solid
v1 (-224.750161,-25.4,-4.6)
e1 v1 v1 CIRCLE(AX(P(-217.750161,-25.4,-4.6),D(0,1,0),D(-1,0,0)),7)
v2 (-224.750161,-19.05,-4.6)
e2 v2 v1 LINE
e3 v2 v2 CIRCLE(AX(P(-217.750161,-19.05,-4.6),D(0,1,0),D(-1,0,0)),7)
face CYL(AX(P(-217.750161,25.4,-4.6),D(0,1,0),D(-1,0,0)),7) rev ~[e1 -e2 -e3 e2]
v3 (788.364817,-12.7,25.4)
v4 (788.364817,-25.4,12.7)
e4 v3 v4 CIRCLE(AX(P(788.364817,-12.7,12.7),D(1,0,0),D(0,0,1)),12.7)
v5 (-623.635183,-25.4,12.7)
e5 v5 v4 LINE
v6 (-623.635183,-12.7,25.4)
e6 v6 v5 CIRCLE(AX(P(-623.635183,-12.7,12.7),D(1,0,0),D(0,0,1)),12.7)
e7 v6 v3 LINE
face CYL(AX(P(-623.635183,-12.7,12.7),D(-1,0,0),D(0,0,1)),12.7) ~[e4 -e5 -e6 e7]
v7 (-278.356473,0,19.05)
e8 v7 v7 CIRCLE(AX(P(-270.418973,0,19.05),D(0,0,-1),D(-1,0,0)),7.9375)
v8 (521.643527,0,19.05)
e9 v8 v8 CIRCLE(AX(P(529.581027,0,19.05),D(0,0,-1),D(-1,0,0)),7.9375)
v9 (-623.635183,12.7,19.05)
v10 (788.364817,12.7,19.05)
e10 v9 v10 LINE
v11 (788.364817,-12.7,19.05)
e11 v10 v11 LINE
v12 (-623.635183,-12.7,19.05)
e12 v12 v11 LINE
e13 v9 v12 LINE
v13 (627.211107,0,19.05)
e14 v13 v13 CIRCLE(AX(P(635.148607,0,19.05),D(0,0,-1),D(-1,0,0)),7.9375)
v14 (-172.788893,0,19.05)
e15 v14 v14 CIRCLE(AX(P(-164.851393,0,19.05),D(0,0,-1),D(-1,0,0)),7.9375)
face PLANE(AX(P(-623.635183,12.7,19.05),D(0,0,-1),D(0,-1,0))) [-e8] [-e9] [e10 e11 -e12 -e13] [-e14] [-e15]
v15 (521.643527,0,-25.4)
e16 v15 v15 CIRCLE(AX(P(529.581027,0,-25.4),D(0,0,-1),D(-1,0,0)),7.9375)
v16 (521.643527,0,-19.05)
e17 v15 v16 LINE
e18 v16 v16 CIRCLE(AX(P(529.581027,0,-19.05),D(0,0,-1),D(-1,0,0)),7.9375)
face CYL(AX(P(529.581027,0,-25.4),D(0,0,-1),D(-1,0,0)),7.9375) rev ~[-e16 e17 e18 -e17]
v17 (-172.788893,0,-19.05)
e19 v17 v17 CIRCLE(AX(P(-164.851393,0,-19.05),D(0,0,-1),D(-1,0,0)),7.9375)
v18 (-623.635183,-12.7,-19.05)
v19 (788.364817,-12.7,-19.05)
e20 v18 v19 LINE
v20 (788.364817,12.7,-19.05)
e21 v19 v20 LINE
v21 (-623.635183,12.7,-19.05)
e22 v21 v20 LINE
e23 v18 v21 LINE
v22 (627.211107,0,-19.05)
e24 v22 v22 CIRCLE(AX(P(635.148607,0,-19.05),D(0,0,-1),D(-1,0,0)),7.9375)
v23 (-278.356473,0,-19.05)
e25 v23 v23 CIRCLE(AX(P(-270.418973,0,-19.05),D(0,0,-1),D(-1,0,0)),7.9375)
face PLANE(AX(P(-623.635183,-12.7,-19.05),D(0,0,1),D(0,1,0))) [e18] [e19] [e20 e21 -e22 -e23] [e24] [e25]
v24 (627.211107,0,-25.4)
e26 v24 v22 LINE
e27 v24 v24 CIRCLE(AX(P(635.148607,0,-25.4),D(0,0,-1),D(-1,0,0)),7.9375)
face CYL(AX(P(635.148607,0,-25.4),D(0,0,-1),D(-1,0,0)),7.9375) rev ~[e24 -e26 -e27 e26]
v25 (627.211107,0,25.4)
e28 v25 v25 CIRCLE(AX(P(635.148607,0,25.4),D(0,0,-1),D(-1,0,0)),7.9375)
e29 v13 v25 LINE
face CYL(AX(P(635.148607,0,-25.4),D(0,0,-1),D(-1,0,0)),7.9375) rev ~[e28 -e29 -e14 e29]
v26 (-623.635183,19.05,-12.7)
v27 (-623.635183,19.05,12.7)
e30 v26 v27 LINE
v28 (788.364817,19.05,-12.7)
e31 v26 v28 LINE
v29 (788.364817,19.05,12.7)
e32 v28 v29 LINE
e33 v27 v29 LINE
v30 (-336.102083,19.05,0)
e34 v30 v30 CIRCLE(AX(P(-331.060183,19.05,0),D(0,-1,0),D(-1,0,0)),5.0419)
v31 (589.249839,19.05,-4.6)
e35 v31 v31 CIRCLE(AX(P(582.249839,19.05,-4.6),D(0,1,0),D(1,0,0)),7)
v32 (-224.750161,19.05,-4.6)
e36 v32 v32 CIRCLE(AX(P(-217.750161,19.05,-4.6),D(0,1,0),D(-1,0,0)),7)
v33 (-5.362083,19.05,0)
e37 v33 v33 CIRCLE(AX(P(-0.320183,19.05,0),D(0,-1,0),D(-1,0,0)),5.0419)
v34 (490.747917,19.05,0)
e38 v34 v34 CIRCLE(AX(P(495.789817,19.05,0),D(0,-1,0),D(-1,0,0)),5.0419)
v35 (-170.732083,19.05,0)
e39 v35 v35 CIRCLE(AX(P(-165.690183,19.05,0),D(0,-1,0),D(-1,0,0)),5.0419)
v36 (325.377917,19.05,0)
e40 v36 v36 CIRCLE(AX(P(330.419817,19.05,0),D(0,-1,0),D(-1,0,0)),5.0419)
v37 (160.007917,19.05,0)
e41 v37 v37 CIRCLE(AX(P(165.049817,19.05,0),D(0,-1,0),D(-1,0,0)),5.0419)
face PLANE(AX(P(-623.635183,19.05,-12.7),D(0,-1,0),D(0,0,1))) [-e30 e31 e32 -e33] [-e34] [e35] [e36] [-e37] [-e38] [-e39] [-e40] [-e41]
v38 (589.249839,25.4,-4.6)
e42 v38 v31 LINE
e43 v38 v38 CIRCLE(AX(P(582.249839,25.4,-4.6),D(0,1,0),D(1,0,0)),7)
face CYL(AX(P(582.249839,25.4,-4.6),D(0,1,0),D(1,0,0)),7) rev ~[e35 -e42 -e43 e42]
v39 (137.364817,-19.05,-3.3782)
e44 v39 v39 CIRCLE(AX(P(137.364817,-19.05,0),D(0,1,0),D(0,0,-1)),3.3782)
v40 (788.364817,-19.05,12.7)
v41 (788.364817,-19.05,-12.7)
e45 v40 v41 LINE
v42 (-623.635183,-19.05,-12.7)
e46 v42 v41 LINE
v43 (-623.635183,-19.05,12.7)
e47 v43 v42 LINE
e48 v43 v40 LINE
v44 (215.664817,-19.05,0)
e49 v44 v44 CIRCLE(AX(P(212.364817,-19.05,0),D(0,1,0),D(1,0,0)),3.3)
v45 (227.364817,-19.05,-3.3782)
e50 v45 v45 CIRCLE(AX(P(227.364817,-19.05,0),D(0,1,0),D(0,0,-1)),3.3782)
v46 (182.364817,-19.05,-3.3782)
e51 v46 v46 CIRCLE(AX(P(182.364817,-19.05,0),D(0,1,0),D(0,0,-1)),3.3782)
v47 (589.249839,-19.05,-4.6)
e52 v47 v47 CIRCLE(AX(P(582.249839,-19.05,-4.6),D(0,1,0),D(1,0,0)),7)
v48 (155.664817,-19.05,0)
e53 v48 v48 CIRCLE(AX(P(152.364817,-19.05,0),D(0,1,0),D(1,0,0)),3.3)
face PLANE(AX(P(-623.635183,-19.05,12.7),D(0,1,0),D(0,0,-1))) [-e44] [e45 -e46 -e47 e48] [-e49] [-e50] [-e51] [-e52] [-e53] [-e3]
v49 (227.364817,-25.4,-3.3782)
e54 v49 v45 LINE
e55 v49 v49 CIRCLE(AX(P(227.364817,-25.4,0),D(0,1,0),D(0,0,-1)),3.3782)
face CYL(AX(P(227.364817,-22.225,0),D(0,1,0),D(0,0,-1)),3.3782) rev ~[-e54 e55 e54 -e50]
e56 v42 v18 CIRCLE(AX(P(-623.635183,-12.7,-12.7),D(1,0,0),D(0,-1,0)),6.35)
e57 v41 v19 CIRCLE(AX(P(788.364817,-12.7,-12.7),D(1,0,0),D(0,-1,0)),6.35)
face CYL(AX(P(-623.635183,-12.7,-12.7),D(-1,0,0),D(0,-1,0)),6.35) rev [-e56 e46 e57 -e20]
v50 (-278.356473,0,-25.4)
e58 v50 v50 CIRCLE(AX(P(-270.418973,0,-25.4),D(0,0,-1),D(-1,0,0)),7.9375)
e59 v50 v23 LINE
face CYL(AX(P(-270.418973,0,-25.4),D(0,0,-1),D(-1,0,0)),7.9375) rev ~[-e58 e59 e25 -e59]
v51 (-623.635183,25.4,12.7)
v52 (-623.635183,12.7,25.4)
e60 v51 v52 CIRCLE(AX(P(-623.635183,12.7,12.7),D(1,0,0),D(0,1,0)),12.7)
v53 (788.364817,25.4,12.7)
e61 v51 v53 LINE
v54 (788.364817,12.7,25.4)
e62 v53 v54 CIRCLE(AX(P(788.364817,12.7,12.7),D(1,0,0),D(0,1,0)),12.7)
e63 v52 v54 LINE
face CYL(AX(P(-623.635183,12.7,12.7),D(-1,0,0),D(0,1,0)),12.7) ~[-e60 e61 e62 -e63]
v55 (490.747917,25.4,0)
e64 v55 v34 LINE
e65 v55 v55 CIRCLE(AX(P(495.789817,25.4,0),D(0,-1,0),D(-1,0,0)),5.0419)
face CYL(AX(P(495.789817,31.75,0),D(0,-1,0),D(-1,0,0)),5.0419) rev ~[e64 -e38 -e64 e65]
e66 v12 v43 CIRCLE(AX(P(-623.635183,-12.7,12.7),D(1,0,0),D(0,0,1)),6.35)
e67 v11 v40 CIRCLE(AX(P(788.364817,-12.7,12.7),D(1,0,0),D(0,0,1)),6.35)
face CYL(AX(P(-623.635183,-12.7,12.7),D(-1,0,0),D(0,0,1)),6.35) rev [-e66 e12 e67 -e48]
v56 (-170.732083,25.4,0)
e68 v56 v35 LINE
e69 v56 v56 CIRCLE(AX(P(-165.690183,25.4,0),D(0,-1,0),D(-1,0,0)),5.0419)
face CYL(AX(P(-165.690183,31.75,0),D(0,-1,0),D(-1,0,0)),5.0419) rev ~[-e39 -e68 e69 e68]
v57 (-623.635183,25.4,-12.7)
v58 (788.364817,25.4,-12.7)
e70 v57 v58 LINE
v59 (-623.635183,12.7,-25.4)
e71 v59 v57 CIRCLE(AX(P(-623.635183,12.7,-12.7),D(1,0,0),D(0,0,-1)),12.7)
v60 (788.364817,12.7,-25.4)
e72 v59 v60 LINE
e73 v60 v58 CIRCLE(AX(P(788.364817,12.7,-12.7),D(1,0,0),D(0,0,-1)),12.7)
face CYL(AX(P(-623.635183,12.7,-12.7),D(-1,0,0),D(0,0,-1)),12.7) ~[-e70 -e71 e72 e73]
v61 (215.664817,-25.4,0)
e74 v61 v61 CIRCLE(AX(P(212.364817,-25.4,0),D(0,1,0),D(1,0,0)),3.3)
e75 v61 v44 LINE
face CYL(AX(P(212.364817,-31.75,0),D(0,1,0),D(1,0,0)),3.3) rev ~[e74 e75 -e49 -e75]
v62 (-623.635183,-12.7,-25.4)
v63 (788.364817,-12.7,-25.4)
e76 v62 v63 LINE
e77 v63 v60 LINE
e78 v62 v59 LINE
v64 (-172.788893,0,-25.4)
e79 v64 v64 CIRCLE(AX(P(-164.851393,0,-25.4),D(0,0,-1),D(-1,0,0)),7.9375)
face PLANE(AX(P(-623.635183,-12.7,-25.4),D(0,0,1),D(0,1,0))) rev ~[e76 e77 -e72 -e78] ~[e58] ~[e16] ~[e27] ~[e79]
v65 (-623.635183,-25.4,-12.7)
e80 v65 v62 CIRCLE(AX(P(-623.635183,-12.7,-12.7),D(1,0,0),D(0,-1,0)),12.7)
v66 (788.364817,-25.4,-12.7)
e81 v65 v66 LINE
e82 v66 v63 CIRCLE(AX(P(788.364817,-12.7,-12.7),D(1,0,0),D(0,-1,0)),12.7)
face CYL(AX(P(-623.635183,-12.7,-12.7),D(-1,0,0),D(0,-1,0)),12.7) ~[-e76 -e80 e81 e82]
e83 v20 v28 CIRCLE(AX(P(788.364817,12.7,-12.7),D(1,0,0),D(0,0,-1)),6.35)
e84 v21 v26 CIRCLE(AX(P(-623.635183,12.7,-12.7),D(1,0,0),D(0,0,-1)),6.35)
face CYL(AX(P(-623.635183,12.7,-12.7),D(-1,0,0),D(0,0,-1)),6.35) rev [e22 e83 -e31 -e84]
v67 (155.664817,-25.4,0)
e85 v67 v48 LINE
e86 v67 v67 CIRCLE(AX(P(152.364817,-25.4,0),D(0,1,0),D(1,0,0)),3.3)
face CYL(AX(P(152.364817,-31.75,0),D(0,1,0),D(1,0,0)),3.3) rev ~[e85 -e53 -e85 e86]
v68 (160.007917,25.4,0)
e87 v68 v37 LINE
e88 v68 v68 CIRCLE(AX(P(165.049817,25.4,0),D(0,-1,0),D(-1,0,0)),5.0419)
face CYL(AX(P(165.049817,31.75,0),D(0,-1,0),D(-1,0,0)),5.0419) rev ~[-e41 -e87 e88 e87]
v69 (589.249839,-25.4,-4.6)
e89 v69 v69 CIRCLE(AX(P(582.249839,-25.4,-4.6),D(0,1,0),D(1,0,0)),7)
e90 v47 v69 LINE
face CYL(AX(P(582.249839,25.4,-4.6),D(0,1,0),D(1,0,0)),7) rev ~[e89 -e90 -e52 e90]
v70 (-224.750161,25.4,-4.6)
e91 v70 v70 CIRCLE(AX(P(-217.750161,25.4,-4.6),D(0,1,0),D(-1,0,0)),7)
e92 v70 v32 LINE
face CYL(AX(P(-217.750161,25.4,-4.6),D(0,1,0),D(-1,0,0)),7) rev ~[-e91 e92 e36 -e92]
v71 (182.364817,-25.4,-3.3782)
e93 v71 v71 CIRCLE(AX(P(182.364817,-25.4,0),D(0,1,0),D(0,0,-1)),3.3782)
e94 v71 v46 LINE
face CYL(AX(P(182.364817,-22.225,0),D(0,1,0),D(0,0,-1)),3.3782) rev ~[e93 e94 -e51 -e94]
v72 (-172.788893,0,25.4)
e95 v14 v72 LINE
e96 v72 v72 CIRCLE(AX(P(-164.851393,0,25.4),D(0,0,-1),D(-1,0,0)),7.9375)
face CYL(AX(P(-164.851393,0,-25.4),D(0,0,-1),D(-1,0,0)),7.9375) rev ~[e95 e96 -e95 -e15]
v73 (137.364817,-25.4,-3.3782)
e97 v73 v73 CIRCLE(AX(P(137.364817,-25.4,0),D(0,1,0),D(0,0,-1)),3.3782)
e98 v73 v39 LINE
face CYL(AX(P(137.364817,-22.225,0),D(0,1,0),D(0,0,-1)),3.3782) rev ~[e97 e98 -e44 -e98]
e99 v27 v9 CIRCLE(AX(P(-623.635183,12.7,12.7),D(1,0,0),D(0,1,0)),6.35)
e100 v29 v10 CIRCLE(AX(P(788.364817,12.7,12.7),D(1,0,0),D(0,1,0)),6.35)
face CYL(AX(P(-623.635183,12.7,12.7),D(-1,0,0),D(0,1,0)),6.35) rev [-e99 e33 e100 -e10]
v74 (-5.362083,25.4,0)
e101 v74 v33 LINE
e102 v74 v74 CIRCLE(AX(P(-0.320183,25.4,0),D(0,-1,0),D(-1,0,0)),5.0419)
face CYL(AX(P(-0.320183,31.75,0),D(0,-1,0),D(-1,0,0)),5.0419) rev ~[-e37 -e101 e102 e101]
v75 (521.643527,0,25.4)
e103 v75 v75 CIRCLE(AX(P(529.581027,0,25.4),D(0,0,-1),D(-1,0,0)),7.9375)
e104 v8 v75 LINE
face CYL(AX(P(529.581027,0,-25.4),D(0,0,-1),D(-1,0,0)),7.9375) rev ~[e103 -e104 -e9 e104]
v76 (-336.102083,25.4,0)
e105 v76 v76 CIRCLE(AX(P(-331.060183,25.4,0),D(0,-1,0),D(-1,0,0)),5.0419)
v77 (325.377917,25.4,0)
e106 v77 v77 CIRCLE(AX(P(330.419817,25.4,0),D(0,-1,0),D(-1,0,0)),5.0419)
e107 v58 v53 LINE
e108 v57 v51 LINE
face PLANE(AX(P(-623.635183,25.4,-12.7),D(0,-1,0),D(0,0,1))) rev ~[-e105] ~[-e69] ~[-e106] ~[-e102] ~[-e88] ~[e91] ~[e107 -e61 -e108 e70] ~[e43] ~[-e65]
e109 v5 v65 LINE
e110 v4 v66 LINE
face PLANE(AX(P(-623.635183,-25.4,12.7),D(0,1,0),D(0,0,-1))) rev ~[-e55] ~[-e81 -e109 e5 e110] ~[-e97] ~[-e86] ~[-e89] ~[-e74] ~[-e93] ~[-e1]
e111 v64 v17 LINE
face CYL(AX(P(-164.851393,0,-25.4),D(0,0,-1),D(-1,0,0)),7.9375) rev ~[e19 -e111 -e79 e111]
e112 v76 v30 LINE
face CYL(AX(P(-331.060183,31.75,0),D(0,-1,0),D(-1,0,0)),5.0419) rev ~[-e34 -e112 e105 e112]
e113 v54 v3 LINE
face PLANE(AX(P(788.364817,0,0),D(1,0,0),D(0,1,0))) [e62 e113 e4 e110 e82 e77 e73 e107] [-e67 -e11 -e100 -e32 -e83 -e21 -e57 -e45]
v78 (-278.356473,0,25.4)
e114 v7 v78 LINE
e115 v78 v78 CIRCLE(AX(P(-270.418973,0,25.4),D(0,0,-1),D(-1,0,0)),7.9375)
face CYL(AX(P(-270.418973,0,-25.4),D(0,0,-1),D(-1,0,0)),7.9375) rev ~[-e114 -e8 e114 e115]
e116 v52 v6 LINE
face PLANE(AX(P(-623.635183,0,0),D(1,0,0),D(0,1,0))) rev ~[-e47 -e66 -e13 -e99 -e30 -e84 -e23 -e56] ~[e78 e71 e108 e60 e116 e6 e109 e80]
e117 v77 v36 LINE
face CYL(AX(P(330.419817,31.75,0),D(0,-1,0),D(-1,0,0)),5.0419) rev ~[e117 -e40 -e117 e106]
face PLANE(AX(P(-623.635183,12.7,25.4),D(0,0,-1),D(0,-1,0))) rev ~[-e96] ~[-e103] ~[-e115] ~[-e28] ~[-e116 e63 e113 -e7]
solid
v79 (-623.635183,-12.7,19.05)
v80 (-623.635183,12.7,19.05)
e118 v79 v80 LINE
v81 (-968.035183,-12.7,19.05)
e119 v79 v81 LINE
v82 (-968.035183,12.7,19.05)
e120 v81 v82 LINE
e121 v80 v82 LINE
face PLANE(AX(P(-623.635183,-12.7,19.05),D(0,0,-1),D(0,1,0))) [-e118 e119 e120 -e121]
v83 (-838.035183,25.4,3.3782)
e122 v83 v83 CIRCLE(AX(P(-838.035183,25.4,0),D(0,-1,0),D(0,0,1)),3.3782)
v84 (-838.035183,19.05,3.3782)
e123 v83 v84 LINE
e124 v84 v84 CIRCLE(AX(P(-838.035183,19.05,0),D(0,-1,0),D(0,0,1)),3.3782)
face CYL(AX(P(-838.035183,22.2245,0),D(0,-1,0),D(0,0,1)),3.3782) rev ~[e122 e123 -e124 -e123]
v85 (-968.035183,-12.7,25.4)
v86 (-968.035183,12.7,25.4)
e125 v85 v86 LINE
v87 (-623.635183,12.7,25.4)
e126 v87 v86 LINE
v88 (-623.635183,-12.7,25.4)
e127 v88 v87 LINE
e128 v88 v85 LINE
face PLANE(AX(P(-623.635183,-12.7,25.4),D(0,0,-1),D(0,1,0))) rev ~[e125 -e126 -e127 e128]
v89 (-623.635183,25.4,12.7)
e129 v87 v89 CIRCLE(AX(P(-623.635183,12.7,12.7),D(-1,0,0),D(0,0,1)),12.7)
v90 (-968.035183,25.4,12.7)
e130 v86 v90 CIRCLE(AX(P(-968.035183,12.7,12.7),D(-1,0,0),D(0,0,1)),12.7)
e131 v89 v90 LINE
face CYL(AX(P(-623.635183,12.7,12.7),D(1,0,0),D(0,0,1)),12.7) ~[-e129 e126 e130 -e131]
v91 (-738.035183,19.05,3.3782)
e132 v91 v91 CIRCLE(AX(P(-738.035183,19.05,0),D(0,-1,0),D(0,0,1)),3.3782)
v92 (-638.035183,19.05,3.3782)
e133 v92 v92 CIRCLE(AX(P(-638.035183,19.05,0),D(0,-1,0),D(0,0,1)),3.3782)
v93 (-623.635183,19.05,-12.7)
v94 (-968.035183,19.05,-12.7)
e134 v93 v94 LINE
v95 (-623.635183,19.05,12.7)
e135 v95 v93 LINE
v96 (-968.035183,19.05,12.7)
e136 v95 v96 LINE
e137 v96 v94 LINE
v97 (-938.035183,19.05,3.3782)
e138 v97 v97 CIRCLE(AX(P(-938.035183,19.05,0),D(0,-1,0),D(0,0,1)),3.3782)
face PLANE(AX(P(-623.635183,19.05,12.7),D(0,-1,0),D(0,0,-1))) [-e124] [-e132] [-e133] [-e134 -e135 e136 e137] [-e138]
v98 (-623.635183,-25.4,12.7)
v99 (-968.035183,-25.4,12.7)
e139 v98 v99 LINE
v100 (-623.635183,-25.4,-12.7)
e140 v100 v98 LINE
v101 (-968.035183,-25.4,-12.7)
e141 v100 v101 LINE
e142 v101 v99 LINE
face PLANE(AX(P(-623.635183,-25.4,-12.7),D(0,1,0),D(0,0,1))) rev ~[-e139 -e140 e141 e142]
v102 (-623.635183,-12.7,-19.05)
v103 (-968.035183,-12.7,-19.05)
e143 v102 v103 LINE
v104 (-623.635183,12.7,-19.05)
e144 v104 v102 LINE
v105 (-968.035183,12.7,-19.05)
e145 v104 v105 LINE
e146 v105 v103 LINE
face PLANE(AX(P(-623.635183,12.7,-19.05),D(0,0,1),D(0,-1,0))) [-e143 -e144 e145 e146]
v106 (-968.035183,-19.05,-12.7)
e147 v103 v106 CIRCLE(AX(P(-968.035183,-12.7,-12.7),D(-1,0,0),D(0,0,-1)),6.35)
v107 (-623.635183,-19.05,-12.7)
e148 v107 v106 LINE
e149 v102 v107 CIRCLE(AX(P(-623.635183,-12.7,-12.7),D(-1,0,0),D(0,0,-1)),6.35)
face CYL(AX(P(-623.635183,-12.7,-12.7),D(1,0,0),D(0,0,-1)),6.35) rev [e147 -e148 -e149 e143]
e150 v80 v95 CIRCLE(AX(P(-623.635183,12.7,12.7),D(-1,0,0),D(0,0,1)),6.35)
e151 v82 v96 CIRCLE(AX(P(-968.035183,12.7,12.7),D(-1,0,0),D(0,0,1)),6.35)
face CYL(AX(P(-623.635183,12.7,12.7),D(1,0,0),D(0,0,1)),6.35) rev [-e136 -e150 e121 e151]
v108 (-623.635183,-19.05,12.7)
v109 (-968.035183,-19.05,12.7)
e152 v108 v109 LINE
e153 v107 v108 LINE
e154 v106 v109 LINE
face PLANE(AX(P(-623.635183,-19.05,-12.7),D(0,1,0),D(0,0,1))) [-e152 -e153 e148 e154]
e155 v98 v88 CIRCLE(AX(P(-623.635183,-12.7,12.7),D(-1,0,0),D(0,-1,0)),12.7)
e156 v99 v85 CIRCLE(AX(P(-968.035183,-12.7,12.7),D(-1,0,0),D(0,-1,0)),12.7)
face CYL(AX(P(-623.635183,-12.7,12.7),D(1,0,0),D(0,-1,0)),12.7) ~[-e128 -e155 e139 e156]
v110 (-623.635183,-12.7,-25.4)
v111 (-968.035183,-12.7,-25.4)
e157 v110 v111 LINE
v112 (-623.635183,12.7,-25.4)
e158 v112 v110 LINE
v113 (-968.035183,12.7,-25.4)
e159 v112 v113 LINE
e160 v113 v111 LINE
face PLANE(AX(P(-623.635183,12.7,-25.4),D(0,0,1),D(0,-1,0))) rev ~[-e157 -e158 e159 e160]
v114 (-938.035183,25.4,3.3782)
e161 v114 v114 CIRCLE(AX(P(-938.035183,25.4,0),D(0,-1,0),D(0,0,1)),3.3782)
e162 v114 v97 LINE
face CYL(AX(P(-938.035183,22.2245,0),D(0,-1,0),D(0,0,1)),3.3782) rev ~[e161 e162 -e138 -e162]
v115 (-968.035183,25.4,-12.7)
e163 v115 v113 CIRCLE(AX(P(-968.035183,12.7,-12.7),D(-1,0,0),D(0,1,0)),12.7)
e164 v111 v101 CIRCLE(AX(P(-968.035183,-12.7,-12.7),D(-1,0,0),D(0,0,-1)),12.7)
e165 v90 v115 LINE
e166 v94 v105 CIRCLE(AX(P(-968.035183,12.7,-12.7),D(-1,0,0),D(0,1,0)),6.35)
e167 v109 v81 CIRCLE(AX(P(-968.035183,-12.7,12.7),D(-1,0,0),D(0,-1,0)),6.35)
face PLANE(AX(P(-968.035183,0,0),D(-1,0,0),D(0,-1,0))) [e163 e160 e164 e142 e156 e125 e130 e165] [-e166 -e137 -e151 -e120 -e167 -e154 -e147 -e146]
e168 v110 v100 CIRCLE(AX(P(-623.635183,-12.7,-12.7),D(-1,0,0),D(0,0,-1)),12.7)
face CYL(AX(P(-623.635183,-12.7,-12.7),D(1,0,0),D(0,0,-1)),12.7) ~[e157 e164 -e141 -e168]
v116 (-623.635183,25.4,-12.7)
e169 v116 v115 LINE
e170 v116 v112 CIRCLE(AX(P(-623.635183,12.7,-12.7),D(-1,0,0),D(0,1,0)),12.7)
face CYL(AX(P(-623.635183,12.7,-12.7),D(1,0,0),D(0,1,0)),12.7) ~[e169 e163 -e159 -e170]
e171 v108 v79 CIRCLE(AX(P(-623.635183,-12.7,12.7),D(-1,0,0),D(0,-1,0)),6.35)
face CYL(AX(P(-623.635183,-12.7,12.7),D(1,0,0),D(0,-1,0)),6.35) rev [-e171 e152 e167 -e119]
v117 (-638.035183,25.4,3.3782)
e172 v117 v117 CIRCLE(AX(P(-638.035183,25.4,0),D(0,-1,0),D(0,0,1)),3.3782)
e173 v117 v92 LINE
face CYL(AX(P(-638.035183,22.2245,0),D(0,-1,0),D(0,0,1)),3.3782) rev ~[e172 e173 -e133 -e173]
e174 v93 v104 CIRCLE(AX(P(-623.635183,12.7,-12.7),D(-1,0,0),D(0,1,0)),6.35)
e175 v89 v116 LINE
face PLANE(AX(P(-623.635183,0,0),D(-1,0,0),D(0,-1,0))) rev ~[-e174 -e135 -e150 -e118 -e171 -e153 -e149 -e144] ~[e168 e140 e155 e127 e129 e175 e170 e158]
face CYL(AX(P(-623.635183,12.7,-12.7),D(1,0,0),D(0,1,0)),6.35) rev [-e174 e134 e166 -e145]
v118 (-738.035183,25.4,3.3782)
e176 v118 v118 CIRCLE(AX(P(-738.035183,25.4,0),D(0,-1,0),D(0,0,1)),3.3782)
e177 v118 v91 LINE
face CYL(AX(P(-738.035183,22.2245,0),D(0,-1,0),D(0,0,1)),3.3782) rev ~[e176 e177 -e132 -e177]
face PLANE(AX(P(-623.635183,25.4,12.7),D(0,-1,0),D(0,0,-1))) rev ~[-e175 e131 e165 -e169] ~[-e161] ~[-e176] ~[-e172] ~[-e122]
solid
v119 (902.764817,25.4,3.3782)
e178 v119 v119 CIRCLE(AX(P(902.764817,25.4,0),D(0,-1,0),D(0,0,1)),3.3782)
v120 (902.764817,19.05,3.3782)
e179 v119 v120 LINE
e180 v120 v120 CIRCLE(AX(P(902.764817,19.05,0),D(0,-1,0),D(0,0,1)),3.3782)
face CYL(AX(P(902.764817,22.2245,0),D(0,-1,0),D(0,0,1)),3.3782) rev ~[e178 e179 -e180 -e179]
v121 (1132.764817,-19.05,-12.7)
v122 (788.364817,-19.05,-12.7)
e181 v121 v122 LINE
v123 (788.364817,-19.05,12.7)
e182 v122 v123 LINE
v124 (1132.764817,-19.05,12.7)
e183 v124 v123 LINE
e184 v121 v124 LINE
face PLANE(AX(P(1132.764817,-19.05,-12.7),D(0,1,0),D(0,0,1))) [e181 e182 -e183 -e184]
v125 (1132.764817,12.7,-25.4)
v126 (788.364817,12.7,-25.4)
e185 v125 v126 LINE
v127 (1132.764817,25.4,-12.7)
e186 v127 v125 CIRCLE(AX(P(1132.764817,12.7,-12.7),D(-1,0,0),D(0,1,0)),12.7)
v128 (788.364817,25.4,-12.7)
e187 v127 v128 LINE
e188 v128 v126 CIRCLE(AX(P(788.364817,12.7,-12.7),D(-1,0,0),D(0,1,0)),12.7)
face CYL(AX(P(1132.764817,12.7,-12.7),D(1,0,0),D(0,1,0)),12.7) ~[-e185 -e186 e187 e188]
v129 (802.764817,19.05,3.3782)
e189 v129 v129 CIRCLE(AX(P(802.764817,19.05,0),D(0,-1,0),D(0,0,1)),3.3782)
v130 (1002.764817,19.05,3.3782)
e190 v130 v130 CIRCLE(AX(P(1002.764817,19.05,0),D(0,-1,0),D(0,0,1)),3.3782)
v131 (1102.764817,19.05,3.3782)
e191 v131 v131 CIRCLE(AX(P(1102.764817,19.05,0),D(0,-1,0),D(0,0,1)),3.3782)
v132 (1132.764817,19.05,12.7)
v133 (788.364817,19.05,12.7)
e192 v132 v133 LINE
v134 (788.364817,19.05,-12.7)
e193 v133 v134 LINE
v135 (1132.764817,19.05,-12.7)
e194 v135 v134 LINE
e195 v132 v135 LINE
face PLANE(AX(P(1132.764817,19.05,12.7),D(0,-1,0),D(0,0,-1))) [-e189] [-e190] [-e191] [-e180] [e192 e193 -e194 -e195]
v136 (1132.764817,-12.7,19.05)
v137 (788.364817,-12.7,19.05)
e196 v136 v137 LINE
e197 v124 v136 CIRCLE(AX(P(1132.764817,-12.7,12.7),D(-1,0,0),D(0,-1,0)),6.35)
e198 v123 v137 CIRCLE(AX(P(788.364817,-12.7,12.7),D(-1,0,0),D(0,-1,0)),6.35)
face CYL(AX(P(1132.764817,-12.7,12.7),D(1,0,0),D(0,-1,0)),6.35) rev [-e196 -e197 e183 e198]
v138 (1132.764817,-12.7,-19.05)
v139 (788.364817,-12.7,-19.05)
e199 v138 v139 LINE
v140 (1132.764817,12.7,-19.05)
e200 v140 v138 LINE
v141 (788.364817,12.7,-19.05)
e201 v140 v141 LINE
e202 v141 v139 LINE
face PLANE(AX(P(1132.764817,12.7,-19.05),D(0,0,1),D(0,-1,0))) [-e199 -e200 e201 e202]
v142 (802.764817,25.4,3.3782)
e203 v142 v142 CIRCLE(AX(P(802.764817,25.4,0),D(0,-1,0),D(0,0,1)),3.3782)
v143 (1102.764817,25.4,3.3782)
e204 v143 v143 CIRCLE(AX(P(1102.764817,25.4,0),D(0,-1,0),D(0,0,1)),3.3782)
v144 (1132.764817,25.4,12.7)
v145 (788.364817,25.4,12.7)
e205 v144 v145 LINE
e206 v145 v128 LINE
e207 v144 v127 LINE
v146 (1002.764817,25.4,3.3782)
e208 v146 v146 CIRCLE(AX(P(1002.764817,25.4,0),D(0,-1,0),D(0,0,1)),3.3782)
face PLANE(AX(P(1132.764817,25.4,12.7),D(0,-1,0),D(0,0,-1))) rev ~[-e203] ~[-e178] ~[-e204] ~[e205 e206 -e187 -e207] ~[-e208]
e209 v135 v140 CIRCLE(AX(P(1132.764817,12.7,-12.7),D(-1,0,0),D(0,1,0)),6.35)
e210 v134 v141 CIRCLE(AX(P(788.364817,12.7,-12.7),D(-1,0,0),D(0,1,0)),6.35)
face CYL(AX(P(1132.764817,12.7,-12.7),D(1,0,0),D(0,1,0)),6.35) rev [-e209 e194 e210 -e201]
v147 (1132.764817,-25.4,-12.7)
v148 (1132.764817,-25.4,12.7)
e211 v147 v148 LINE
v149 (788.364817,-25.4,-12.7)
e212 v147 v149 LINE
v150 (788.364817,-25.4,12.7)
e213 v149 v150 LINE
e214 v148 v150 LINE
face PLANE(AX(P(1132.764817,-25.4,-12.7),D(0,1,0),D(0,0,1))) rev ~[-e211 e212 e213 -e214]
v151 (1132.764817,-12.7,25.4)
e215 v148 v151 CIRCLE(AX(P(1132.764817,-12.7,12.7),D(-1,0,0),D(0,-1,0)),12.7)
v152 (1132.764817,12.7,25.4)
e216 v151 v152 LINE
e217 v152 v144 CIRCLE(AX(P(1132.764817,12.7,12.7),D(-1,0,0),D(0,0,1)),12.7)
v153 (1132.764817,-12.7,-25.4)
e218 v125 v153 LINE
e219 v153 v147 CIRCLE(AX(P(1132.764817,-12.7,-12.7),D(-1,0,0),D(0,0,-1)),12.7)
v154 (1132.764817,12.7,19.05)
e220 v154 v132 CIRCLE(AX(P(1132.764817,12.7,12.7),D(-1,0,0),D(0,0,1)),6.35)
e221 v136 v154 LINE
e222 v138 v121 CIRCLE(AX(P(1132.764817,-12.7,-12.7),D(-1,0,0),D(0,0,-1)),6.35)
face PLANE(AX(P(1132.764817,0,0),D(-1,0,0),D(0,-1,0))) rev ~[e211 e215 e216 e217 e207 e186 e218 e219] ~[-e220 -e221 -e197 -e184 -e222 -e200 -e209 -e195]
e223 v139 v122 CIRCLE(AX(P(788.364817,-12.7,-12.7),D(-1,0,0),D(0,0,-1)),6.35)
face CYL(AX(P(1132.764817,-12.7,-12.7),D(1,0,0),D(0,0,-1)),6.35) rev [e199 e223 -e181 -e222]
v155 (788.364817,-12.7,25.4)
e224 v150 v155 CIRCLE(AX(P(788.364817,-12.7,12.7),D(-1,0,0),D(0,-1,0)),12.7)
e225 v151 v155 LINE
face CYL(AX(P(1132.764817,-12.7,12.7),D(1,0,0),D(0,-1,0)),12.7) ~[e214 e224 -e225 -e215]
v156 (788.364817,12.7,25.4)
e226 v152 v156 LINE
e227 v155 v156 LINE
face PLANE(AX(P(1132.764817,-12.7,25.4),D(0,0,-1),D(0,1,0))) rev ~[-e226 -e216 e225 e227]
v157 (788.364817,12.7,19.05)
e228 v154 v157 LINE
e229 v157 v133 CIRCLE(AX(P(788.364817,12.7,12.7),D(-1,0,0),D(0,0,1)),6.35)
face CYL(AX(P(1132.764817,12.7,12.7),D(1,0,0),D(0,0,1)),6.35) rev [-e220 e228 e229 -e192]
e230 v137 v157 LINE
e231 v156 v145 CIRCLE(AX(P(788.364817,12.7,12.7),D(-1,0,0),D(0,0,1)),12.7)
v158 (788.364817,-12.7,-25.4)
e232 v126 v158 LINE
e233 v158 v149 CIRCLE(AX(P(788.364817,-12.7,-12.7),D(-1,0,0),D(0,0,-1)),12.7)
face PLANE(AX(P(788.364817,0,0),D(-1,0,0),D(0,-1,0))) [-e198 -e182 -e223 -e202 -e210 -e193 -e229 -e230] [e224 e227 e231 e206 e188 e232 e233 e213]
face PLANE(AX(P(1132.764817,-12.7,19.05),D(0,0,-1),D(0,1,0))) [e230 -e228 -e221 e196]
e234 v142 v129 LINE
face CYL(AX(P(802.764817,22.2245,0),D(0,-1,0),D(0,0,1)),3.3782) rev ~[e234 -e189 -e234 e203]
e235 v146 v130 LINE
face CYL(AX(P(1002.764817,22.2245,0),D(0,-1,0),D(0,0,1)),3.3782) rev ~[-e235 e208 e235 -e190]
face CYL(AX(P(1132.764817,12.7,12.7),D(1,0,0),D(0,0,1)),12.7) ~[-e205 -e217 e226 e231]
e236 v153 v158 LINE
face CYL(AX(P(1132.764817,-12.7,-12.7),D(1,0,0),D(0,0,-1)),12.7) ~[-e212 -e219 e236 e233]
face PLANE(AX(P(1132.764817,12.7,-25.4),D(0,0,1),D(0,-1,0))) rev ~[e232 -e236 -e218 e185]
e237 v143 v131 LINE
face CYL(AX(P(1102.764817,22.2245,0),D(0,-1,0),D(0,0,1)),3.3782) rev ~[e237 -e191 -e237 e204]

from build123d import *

# Parameters (mm, degrees)
MIEMBRO_ESTRUCTURAL1_DEPTH             = 1412
TALADRO_DE_MARGEN_PARA_M61_D           = 6.6
TALADRO_DE_MARGEN_PARA_M61_DEPTH       = 6.35
TALADRO_DE_MARGEN_PARA_3_81_D          = 10.0838
TALADRO_DE_MARGEN_PARA_3_81_DEPTH      = 6.35
MIEMBRO_ESTRUCTURAL2_DEPTH             = 344.4
MIEMBRO_ESTRUCTURAL2_2_DEPTH           = 344.4
CROQUIS9_W                             = 3.3782
CROQUIS9_H                             = 6.35
TALADRO_DE_MARGEN_PARA_1_41_AT_2_COUNT = 2
TALADRO_DE_MARGEN_PARA_1_41_AT_2_PITCH = 45
TALADRO_DE_MARGEN_PARA_1_41_AT_3_COUNT = 2
TALADRO_DE_MARGEN_PARA_1_41_AT_3_PITCH = 90
CROQUIS11_W                            = 3.3782
CROQUIS11_H                            = 6.351
TALADRO_DE_MARGEN_PARA_1_42_AT_2_COUNT = 2
TALADRO_DE_MARGEN_PARA_1_42_AT_2_PITCH = 100
TALADRO_DE_MARGEN_PARA_1_42_AT_3_COUNT = 2
TALADRO_DE_MARGEN_PARA_1_42_AT_3_PITCH = 200
TALADRO_DE_MARGEN_PARA_1_42_AT_4_COUNT = 2
TALADRO_DE_MARGEN_PARA_1_42_AT_4_PITCH = 300
TALADRO_DE_MARGEN_PARA_1_42_AT_5_COUNT = 2
TALADRO_DE_MARGEN_PARA_1_42_AT_5_PITCH = 1740.8
TALADRO_DE_MARGEN_PARA_1_42_AT_6_COUNT = 2
TALADRO_DE_MARGEN_PARA_1_42_AT_6_PITCH = 1840.8
TALADRO_DE_MARGEN_PARA_1_42_AT_7_COUNT = 2
TALADRO_DE_MARGEN_PARA_1_42_AT_7_PITCH = 1940.8
TALADRO_DE_MARGEN_PARA_1_42_AT_8_COUNT = 2
TALADRO_DE_MARGEN_PARA_1_42_AT_8_PITCH = 2040.8
CUT_EXTRUDE1_REACH                     = 1136.188
SKETCH12_R                             = 7.9375
CUT_EXTRUDE2_REACH                     = 1136.188


with BuildPart() as part:
    # Sketch1 → Miembro estructural1 (new body)
    with BuildSketch(Plane.YZ.offset(-623.635182539)):
        with BuildLine():
            Line((-12.7, -25.4), (12.7, -25.4))
            ThreePointArc((12.7, -25.4), (21.680256121, -21.680256121), (25.4, -12.7))
            Line((25.4, -12.7), (25.4, 12.7))
            ThreePointArc((25.4, 12.7), (21.680256121, 21.680256121), (12.7, 25.4))
            Line((12.7, 25.4), (-12.7, 25.4))
            ThreePointArc((-12.7, 25.4), (-21.680256121, 21.680256121), (-25.4, 12.7))
            Line((-25.4, 12.7), (-25.4, -12.7))
            ThreePointArc((-25.4, -12.7), (-21.680256121, -21.680256121), (-12.7, -25.4))
        make_face()
        with BuildLine():
            Line((-12.7, -19.05), (12.7, -19.05))
            ThreePointArc((12.7, -19.05), (17.190128061, -17.190128061), (19.05, -12.7))
            Line((19.05, -12.7), (19.05, 12.7))
            ThreePointArc((19.05, 12.7), (17.190128061, 17.190128061), (12.7, 19.05))
            Line((12.7, 19.05), (-12.7, 19.05))
            ThreePointArc((-12.7, 19.05), (-17.190128061, 17.190128061), (-19.05, 12.7))
            Line((-19.05, 12.7), (-19.05, -12.7))
            ThreePointArc((-19.05, -12.7), (-17.190128061, -17.190128061), (-12.7, -19.05))
        make_face(mode=Mode.SUBTRACT)
    extrude(amount=MIEMBRO_ESTRUCTURAL1_DEPTH)

    # Taladro de margen para M61
    with Locations(Plane(origin=(0, -25.4, 0), x_dir=(-1, 0, 0), z_dir=(0, -1, 0))):
        with Locations((-152.364817461, 0), (-212.364817461, 0)):
            Hole(TALADRO_DE_MARGEN_PARA_M61_D / 2, depth=TALADRO_DE_MARGEN_PARA_M61_DEPTH)

    # Taladro de margen para 3/81
    with Locations(Plane(origin=(0, 25.4, 0), x_dir=(1, 0, 0), z_dir=(0, 1, 0))):
        with Locations((-331.060182539, 0), (-165.690182539, 0), (-0.320182539, 0), (165.049817461, 0), (330.419817461, 0), (495.789817461, 0)):
            Hole(TALADRO_DE_MARGEN_PARA_3_81_D / 2, depth=TALADRO_DE_MARGEN_PARA_3_81_DEPTH)

    # Croquis9 → Taladro de margen para 1/41 (revolve, cut)
    with BuildSketch(Plane(origin=(137.364817461, -25.4, 0), x_dir=(0, 0, -1), z_dir=(1, 0, 0))):
        with Locations((1.6891, 3.175)):
            Rectangle(CROQUIS9_W, CROQUIS9_H)
    taladro_de_margen_para_1_41 = revolve(axis=Axis((137.364817461, -31.75, 0), (0, 1, 0)), mode=Mode.SUBTRACT)

    # Taladro de margen para 1/41 at 2: Taladro de margen para 1/41 ×2
    with Locations(*[(i * TALADRO_DE_MARGEN_PARA_1_41_AT_2_PITCH, 0, 0) for i in range(1, TALADRO_DE_MARGEN_PARA_1_41_AT_2_COUNT)]):
        add(taladro_de_margen_para_1_41, mode=Mode.SUBTRACT)

    # Taladro de margen para 1/41 at 3: Taladro de margen para 1/41 ×2
    with Locations(*[(i * TALADRO_DE_MARGEN_PARA_1_41_AT_3_PITCH, 0, 0) for i in range(1, TALADRO_DE_MARGEN_PARA_1_41_AT_3_COUNT)]):
        add(taladro_de_margen_para_1_41, mode=Mode.SUBTRACT)

    # Cut-Extrude1: up to this face of the body (flat: up to its plane)
    cut_extrude1_end = Plane(part.part.faces().sort_by_distance((82.364817461, 0, 25.4))[0])
    # Sketch12 → Cut-Extrude1 (cut, up to the picked face)
    with BuildSketch(Plane(origin=(0, 0, -25.4), x_dir=(-1, 0, 0), z_dir=(0, 0, -1)), mode=Mode.PRIVATE) as cut_extrude1_sk1:
        with Locations((270.418972539, 0)):
            Circle(SKETCH12_R)
    cut_extrude1_tool1 = split(extrude(cut_extrude1_sk1.sketch, amount=-CUT_EXTRUDE1_REACH, mode=Mode.PRIVATE), bisect_by=cut_extrude1_end, keep=Keep.BOTH, mode=Mode.PRIVATE)
    # Sketch12 → Cut-Extrude1 (cut, up to the picked face)
    with BuildSketch(Plane(origin=(0, 0, -25.4), x_dir=(-1, 0, 0), z_dir=(0, 0, -1)), mode=Mode.PRIVATE) as cut_extrude1_sk2:
        with Locations((164.851392539, 0)):
            Circle(SKETCH12_R)
    cut_extrude1_tool2 = split(extrude(cut_extrude1_sk2.sketch, amount=-CUT_EXTRUDE1_REACH, mode=Mode.PRIVATE), bisect_by=cut_extrude1_end, keep=Keep.BOTH, mode=Mode.PRIVATE)
    # Sketch12 → Cut-Extrude1 (cut, up to the picked face)
    with BuildSketch(Plane(origin=(0, 0, -25.4), x_dir=(-1, 0, 0), z_dir=(0, 0, -1)), mode=Mode.PRIVATE) as cut_extrude1_sk3:
        with Locations((-529.581027461, 0)):
            Circle(SKETCH12_R)
    cut_extrude1_tool3 = split(extrude(cut_extrude1_sk3.sketch, amount=-CUT_EXTRUDE1_REACH, mode=Mode.PRIVATE), bisect_by=cut_extrude1_end, keep=Keep.BOTH, mode=Mode.PRIVATE)
    # Sketch12 → Cut-Extrude1 (cut, up to the picked face)
    with BuildSketch(Plane(origin=(0, 0, -25.4), x_dir=(-1, 0, 0), z_dir=(0, 0, -1)), mode=Mode.PRIVATE) as cut_extrude1_sk4:
        with Locations((-635.148607461, 0)):
            Circle(SKETCH12_R)
    cut_extrude1_tool4 = split(extrude(cut_extrude1_sk4.sketch, amount=-CUT_EXTRUDE1_REACH, mode=Mode.PRIVATE), bisect_by=cut_extrude1_end, keep=Keep.BOTH, mode=Mode.PRIVATE)
    add(cut_extrude1_tool1.solids().sort_by(Axis((-270.418973, 0, -25.4), (0, 0, 1)))[0], mode=Mode.SUBTRACT)
    add(cut_extrude1_tool2.solids().sort_by(Axis((-164.851393, 0, -25.4), (0, 0, 1)))[0], mode=Mode.SUBTRACT)
    add(cut_extrude1_tool3.solids().sort_by(Axis((529.581027, 0, -25.4), (0, 0, 1)))[0], mode=Mode.SUBTRACT)
    add(cut_extrude1_tool4.solids().sort_by(Axis((635.148607, 0, -25.4), (0, 0, 1)))[0], mode=Mode.SUBTRACT)

    # Cut-Extrude2: up to this face of the body (flat: up to its plane)
    cut_extrude2_end = Plane(part.part.faces().sort_by_distance((81.871717159, -25.4, 0))[0])
    # Sketch13 → Cut-Extrude2 (cut, up to the picked face)
    with BuildSketch(Plane(origin=(0, 25.4, 0), x_dir=(-1, 0, 0), z_dir=(0, 1, 0)), mode=Mode.PRIVATE) as cut_extrude2_sk1:
        with BuildLine():
            ThreePointArc((-575.249838558, -4.6), (-582.249838558, 2.4), (-589.249838558, -4.6))
            ThreePointArc((-589.249838558, -4.6), (-582.249838558, -11.6), (-575.249838558, -4.6))
        make_face()
    cut_extrude2_tool1 = split(extrude(cut_extrude2_sk1.sketch, amount=-CUT_EXTRUDE2_REACH, mode=Mode.PRIVATE), bisect_by=cut_extrude2_end, keep=Keep.BOTH, mode=Mode.PRIVATE)
    # Sketch13 → Cut-Extrude2 (cut, up to the picked face)
    with BuildSketch(Plane(origin=(0, 25.4, 0), x_dir=(-1, 0, 0), z_dir=(0, 1, 0)), mode=Mode.PRIVATE) as cut_extrude2_sk2:
        with BuildLine():
            ThreePointArc((210.750161442, -4.6), (217.750161442, -11.6), (224.750161442, -4.6))
            ThreePointArc((224.750161442, -4.6), (217.750161442, 2.4), (210.750161442, -4.6))
        make_face()
    cut_extrude2_tool2 = split(extrude(cut_extrude2_sk2.sketch, amount=-CUT_EXTRUDE2_REACH, mode=Mode.PRIVATE), bisect_by=cut_extrude2_end, keep=Keep.BOTH, mode=Mode.PRIVATE)
    add(cut_extrude2_tool1.solids().sort_by(Axis((582.249839, 25.4, -4.6), (0, -1, 0)))[0], mode=Mode.SUBTRACT)
    add(cut_extrude2_tool2.solids().sort_by(Axis((-217.750161, 25.4, -4.6), (0, -1, 0)))[0], mode=Mode.SUBTRACT)


with BuildPart() as body_2:
    # Sketch11 → Miembro estructural2 (new body)
    with BuildSketch(Plane(origin=(-623.635182539, 0, 0), x_dir=(0, -1, 0), z_dir=(-1, 0, 0))):
        with BuildLine():
            Line((-12.7, -25.4), (12.7, -25.4))
            ThreePointArc((12.7, -25.4), (21.680256121, -21.680256121), (25.4, -12.7))
            Line((25.4, -12.7), (25.4, 12.7))
            ThreePointArc((25.4, 12.7), (21.680256121, 21.680256121), (12.7, 25.4))
            Line((12.7, 25.4), (-12.7, 25.4))
            ThreePointArc((-12.7, 25.4), (-21.680256121, 21.680256121), (-25.4, 12.7))
            Line((-25.4, 12.7), (-25.4, -12.7))
            ThreePointArc((-25.4, -12.7), (-21.680256121, -21.680256121), (-12.7, -25.4))
        make_face()
        with BuildLine():
            Line((-12.7, -19.05), (12.7, -19.05))
            ThreePointArc((12.7, -19.05), (17.190128061, -17.190128061), (19.05, -12.7))
            Line((19.05, -12.7), (19.05, 12.7))
            ThreePointArc((19.05, 12.7), (17.190128061, 17.190128061), (12.7, 19.05))
            Line((12.7, 19.05), (-12.7, 19.05))
            ThreePointArc((-12.7, 19.05), (-17.190128061, 17.190128061), (-19.05, 12.7))
            Line((-19.05, 12.7), (-19.05, -12.7))
            ThreePointArc((-19.05, -12.7), (-17.190128061, -17.190128061), (-12.7, -19.05))
        make_face(mode=Mode.SUBTRACT)
    extrude(amount=MIEMBRO_ESTRUCTURAL2_DEPTH)


with BuildPart() as body_3:
    # Sketch11 on segment 2 (carried to segment 2) → Miembro estructural2 2 (new body)
    with BuildSketch(Plane(origin=(1132.764817461, 0, 0), x_dir=(0, -1, 0), z_dir=(-1, 0, 0))):
        with BuildLine():
            Line((-12.7, -25.4), (12.7, -25.4))
            ThreePointArc((12.7, -25.4), (21.680256121, -21.680256121), (25.4, -12.7))
            Line((25.4, -12.7), (25.4, 12.7))
            ThreePointArc((25.4, 12.7), (21.680256121, 21.680256121), (12.7, 25.4))
            Line((12.7, 25.4), (-12.7, 25.4))
            ThreePointArc((-12.7, 25.4), (-21.680256121, 21.680256121), (-25.4, 12.7))
            Line((-25.4, 12.7), (-25.4, -12.7))
            ThreePointArc((-25.4, -12.7), (-21.680256121, -21.680256121), (-12.7, -25.4))
        make_face()
        with BuildLine():
            Line((-12.7, -19.05), (12.7, -19.05))
            ThreePointArc((12.7, -19.05), (17.190128061, -17.190128061), (19.05, -12.7))
            Line((19.05, -12.7), (19.05, 12.7))
            ThreePointArc((19.05, 12.7), (17.190128061, 17.190128061), (12.7, 19.05))
            Line((12.7, 19.05), (-12.7, 19.05))
            ThreePointArc((-12.7, 19.05), (-17.190128061, 17.190128061), (-19.05, 12.7))
            Line((-19.05, 12.7), (-19.05, -12.7))
            ThreePointArc((-19.05, -12.7), (-17.190128061, -17.190128061), (-12.7, -19.05))
        make_face(mode=Mode.SUBTRACT)
    extrude(amount=MIEMBRO_ESTRUCTURAL2_2_DEPTH)

    # Croquis11 → Taladro de margen para 1/42 (revolve, cut)
    with BuildSketch(Plane(origin=(1102.764817461, 25.4, 0), x_dir=(0, 0, 1), z_dir=(1, 0, 0))):
        with Locations((1.6891, 3.1755)):
            Rectangle(CROQUIS11_W, CROQUIS11_H)
    taladro_de_margen_para_1_42 = revolve(axis=Axis((1102.764817461, 31.75, 0), (0, -1, 0)), mode=Mode.SUBTRACT)

    # Taladro de margen para 1/42 at 2: Taladro de margen para 1/42 ×2
    with Locations(*[(-i * TALADRO_DE_MARGEN_PARA_1_42_AT_2_PITCH, 0, 0) for i in range(1, TALADRO_DE_MARGEN_PARA_1_42_AT_2_COUNT)]):
        add(taladro_de_margen_para_1_42, mode=Mode.SUBTRACT)

    # Taladro de margen para 1/42 at 3: Taladro de margen para 1/42 ×2
    with Locations(*[(-i * TALADRO_DE_MARGEN_PARA_1_42_AT_3_PITCH, 0, 0) for i in range(1, TALADRO_DE_MARGEN_PARA_1_42_AT_3_COUNT)]):
        add(taladro_de_margen_para_1_42, mode=Mode.SUBTRACT)

    # Taladro de margen para 1/42 at 4: Taladro de margen para 1/42 ×2
    with Locations(*[(-i * TALADRO_DE_MARGEN_PARA_1_42_AT_4_PITCH, 0, 0) for i in range(1, TALADRO_DE_MARGEN_PARA_1_42_AT_4_COUNT)]):
        add(taladro_de_margen_para_1_42, mode=Mode.SUBTRACT)


with BuildPart() as body_2_1:
    add(body_2.part)

    # Taladro de margen para 1/42 at 5: Taladro de margen para 1/42 ×2
    with Locations(*[(-i * TALADRO_DE_MARGEN_PARA_1_42_AT_5_PITCH, 0, 0) for i in range(1, TALADRO_DE_MARGEN_PARA_1_42_AT_5_COUNT)]):
        add(taladro_de_margen_para_1_42, mode=Mode.SUBTRACT)

    # Taladro de margen para 1/42 at 6: Taladro de margen para 1/42 ×2
    with Locations(*[(-i * TALADRO_DE_MARGEN_PARA_1_42_AT_6_PITCH, 0, 0) for i in range(1, TALADRO_DE_MARGEN_PARA_1_42_AT_6_COUNT)]):
        add(taladro_de_margen_para_1_42, mode=Mode.SUBTRACT)

    # Taladro de margen para 1/42 at 7: Taladro de margen para 1/42 ×2
    with Locations(*[(-i * TALADRO_DE_MARGEN_PARA_1_42_AT_7_PITCH, 0, 0) for i in range(1, TALADRO_DE_MARGEN_PARA_1_42_AT_7_COUNT)]):
        add(taladro_de_margen_para_1_42, mode=Mode.SUBTRACT)

    # Taladro de margen para 1/42 at 8: Taladro de margen para 1/42 ×2
    with Locations(*[(-i * TALADRO_DE_MARGEN_PARA_1_42_AT_8_PITCH, 0, 0) for i in range(1, TALADRO_DE_MARGEN_PARA_1_42_AT_8_COUNT)]):
        add(taladro_de_margen_para_1_42, mode=Mode.SUBTRACT)


solid = Compound([part.part, body_3.part, body_2_1.part])
